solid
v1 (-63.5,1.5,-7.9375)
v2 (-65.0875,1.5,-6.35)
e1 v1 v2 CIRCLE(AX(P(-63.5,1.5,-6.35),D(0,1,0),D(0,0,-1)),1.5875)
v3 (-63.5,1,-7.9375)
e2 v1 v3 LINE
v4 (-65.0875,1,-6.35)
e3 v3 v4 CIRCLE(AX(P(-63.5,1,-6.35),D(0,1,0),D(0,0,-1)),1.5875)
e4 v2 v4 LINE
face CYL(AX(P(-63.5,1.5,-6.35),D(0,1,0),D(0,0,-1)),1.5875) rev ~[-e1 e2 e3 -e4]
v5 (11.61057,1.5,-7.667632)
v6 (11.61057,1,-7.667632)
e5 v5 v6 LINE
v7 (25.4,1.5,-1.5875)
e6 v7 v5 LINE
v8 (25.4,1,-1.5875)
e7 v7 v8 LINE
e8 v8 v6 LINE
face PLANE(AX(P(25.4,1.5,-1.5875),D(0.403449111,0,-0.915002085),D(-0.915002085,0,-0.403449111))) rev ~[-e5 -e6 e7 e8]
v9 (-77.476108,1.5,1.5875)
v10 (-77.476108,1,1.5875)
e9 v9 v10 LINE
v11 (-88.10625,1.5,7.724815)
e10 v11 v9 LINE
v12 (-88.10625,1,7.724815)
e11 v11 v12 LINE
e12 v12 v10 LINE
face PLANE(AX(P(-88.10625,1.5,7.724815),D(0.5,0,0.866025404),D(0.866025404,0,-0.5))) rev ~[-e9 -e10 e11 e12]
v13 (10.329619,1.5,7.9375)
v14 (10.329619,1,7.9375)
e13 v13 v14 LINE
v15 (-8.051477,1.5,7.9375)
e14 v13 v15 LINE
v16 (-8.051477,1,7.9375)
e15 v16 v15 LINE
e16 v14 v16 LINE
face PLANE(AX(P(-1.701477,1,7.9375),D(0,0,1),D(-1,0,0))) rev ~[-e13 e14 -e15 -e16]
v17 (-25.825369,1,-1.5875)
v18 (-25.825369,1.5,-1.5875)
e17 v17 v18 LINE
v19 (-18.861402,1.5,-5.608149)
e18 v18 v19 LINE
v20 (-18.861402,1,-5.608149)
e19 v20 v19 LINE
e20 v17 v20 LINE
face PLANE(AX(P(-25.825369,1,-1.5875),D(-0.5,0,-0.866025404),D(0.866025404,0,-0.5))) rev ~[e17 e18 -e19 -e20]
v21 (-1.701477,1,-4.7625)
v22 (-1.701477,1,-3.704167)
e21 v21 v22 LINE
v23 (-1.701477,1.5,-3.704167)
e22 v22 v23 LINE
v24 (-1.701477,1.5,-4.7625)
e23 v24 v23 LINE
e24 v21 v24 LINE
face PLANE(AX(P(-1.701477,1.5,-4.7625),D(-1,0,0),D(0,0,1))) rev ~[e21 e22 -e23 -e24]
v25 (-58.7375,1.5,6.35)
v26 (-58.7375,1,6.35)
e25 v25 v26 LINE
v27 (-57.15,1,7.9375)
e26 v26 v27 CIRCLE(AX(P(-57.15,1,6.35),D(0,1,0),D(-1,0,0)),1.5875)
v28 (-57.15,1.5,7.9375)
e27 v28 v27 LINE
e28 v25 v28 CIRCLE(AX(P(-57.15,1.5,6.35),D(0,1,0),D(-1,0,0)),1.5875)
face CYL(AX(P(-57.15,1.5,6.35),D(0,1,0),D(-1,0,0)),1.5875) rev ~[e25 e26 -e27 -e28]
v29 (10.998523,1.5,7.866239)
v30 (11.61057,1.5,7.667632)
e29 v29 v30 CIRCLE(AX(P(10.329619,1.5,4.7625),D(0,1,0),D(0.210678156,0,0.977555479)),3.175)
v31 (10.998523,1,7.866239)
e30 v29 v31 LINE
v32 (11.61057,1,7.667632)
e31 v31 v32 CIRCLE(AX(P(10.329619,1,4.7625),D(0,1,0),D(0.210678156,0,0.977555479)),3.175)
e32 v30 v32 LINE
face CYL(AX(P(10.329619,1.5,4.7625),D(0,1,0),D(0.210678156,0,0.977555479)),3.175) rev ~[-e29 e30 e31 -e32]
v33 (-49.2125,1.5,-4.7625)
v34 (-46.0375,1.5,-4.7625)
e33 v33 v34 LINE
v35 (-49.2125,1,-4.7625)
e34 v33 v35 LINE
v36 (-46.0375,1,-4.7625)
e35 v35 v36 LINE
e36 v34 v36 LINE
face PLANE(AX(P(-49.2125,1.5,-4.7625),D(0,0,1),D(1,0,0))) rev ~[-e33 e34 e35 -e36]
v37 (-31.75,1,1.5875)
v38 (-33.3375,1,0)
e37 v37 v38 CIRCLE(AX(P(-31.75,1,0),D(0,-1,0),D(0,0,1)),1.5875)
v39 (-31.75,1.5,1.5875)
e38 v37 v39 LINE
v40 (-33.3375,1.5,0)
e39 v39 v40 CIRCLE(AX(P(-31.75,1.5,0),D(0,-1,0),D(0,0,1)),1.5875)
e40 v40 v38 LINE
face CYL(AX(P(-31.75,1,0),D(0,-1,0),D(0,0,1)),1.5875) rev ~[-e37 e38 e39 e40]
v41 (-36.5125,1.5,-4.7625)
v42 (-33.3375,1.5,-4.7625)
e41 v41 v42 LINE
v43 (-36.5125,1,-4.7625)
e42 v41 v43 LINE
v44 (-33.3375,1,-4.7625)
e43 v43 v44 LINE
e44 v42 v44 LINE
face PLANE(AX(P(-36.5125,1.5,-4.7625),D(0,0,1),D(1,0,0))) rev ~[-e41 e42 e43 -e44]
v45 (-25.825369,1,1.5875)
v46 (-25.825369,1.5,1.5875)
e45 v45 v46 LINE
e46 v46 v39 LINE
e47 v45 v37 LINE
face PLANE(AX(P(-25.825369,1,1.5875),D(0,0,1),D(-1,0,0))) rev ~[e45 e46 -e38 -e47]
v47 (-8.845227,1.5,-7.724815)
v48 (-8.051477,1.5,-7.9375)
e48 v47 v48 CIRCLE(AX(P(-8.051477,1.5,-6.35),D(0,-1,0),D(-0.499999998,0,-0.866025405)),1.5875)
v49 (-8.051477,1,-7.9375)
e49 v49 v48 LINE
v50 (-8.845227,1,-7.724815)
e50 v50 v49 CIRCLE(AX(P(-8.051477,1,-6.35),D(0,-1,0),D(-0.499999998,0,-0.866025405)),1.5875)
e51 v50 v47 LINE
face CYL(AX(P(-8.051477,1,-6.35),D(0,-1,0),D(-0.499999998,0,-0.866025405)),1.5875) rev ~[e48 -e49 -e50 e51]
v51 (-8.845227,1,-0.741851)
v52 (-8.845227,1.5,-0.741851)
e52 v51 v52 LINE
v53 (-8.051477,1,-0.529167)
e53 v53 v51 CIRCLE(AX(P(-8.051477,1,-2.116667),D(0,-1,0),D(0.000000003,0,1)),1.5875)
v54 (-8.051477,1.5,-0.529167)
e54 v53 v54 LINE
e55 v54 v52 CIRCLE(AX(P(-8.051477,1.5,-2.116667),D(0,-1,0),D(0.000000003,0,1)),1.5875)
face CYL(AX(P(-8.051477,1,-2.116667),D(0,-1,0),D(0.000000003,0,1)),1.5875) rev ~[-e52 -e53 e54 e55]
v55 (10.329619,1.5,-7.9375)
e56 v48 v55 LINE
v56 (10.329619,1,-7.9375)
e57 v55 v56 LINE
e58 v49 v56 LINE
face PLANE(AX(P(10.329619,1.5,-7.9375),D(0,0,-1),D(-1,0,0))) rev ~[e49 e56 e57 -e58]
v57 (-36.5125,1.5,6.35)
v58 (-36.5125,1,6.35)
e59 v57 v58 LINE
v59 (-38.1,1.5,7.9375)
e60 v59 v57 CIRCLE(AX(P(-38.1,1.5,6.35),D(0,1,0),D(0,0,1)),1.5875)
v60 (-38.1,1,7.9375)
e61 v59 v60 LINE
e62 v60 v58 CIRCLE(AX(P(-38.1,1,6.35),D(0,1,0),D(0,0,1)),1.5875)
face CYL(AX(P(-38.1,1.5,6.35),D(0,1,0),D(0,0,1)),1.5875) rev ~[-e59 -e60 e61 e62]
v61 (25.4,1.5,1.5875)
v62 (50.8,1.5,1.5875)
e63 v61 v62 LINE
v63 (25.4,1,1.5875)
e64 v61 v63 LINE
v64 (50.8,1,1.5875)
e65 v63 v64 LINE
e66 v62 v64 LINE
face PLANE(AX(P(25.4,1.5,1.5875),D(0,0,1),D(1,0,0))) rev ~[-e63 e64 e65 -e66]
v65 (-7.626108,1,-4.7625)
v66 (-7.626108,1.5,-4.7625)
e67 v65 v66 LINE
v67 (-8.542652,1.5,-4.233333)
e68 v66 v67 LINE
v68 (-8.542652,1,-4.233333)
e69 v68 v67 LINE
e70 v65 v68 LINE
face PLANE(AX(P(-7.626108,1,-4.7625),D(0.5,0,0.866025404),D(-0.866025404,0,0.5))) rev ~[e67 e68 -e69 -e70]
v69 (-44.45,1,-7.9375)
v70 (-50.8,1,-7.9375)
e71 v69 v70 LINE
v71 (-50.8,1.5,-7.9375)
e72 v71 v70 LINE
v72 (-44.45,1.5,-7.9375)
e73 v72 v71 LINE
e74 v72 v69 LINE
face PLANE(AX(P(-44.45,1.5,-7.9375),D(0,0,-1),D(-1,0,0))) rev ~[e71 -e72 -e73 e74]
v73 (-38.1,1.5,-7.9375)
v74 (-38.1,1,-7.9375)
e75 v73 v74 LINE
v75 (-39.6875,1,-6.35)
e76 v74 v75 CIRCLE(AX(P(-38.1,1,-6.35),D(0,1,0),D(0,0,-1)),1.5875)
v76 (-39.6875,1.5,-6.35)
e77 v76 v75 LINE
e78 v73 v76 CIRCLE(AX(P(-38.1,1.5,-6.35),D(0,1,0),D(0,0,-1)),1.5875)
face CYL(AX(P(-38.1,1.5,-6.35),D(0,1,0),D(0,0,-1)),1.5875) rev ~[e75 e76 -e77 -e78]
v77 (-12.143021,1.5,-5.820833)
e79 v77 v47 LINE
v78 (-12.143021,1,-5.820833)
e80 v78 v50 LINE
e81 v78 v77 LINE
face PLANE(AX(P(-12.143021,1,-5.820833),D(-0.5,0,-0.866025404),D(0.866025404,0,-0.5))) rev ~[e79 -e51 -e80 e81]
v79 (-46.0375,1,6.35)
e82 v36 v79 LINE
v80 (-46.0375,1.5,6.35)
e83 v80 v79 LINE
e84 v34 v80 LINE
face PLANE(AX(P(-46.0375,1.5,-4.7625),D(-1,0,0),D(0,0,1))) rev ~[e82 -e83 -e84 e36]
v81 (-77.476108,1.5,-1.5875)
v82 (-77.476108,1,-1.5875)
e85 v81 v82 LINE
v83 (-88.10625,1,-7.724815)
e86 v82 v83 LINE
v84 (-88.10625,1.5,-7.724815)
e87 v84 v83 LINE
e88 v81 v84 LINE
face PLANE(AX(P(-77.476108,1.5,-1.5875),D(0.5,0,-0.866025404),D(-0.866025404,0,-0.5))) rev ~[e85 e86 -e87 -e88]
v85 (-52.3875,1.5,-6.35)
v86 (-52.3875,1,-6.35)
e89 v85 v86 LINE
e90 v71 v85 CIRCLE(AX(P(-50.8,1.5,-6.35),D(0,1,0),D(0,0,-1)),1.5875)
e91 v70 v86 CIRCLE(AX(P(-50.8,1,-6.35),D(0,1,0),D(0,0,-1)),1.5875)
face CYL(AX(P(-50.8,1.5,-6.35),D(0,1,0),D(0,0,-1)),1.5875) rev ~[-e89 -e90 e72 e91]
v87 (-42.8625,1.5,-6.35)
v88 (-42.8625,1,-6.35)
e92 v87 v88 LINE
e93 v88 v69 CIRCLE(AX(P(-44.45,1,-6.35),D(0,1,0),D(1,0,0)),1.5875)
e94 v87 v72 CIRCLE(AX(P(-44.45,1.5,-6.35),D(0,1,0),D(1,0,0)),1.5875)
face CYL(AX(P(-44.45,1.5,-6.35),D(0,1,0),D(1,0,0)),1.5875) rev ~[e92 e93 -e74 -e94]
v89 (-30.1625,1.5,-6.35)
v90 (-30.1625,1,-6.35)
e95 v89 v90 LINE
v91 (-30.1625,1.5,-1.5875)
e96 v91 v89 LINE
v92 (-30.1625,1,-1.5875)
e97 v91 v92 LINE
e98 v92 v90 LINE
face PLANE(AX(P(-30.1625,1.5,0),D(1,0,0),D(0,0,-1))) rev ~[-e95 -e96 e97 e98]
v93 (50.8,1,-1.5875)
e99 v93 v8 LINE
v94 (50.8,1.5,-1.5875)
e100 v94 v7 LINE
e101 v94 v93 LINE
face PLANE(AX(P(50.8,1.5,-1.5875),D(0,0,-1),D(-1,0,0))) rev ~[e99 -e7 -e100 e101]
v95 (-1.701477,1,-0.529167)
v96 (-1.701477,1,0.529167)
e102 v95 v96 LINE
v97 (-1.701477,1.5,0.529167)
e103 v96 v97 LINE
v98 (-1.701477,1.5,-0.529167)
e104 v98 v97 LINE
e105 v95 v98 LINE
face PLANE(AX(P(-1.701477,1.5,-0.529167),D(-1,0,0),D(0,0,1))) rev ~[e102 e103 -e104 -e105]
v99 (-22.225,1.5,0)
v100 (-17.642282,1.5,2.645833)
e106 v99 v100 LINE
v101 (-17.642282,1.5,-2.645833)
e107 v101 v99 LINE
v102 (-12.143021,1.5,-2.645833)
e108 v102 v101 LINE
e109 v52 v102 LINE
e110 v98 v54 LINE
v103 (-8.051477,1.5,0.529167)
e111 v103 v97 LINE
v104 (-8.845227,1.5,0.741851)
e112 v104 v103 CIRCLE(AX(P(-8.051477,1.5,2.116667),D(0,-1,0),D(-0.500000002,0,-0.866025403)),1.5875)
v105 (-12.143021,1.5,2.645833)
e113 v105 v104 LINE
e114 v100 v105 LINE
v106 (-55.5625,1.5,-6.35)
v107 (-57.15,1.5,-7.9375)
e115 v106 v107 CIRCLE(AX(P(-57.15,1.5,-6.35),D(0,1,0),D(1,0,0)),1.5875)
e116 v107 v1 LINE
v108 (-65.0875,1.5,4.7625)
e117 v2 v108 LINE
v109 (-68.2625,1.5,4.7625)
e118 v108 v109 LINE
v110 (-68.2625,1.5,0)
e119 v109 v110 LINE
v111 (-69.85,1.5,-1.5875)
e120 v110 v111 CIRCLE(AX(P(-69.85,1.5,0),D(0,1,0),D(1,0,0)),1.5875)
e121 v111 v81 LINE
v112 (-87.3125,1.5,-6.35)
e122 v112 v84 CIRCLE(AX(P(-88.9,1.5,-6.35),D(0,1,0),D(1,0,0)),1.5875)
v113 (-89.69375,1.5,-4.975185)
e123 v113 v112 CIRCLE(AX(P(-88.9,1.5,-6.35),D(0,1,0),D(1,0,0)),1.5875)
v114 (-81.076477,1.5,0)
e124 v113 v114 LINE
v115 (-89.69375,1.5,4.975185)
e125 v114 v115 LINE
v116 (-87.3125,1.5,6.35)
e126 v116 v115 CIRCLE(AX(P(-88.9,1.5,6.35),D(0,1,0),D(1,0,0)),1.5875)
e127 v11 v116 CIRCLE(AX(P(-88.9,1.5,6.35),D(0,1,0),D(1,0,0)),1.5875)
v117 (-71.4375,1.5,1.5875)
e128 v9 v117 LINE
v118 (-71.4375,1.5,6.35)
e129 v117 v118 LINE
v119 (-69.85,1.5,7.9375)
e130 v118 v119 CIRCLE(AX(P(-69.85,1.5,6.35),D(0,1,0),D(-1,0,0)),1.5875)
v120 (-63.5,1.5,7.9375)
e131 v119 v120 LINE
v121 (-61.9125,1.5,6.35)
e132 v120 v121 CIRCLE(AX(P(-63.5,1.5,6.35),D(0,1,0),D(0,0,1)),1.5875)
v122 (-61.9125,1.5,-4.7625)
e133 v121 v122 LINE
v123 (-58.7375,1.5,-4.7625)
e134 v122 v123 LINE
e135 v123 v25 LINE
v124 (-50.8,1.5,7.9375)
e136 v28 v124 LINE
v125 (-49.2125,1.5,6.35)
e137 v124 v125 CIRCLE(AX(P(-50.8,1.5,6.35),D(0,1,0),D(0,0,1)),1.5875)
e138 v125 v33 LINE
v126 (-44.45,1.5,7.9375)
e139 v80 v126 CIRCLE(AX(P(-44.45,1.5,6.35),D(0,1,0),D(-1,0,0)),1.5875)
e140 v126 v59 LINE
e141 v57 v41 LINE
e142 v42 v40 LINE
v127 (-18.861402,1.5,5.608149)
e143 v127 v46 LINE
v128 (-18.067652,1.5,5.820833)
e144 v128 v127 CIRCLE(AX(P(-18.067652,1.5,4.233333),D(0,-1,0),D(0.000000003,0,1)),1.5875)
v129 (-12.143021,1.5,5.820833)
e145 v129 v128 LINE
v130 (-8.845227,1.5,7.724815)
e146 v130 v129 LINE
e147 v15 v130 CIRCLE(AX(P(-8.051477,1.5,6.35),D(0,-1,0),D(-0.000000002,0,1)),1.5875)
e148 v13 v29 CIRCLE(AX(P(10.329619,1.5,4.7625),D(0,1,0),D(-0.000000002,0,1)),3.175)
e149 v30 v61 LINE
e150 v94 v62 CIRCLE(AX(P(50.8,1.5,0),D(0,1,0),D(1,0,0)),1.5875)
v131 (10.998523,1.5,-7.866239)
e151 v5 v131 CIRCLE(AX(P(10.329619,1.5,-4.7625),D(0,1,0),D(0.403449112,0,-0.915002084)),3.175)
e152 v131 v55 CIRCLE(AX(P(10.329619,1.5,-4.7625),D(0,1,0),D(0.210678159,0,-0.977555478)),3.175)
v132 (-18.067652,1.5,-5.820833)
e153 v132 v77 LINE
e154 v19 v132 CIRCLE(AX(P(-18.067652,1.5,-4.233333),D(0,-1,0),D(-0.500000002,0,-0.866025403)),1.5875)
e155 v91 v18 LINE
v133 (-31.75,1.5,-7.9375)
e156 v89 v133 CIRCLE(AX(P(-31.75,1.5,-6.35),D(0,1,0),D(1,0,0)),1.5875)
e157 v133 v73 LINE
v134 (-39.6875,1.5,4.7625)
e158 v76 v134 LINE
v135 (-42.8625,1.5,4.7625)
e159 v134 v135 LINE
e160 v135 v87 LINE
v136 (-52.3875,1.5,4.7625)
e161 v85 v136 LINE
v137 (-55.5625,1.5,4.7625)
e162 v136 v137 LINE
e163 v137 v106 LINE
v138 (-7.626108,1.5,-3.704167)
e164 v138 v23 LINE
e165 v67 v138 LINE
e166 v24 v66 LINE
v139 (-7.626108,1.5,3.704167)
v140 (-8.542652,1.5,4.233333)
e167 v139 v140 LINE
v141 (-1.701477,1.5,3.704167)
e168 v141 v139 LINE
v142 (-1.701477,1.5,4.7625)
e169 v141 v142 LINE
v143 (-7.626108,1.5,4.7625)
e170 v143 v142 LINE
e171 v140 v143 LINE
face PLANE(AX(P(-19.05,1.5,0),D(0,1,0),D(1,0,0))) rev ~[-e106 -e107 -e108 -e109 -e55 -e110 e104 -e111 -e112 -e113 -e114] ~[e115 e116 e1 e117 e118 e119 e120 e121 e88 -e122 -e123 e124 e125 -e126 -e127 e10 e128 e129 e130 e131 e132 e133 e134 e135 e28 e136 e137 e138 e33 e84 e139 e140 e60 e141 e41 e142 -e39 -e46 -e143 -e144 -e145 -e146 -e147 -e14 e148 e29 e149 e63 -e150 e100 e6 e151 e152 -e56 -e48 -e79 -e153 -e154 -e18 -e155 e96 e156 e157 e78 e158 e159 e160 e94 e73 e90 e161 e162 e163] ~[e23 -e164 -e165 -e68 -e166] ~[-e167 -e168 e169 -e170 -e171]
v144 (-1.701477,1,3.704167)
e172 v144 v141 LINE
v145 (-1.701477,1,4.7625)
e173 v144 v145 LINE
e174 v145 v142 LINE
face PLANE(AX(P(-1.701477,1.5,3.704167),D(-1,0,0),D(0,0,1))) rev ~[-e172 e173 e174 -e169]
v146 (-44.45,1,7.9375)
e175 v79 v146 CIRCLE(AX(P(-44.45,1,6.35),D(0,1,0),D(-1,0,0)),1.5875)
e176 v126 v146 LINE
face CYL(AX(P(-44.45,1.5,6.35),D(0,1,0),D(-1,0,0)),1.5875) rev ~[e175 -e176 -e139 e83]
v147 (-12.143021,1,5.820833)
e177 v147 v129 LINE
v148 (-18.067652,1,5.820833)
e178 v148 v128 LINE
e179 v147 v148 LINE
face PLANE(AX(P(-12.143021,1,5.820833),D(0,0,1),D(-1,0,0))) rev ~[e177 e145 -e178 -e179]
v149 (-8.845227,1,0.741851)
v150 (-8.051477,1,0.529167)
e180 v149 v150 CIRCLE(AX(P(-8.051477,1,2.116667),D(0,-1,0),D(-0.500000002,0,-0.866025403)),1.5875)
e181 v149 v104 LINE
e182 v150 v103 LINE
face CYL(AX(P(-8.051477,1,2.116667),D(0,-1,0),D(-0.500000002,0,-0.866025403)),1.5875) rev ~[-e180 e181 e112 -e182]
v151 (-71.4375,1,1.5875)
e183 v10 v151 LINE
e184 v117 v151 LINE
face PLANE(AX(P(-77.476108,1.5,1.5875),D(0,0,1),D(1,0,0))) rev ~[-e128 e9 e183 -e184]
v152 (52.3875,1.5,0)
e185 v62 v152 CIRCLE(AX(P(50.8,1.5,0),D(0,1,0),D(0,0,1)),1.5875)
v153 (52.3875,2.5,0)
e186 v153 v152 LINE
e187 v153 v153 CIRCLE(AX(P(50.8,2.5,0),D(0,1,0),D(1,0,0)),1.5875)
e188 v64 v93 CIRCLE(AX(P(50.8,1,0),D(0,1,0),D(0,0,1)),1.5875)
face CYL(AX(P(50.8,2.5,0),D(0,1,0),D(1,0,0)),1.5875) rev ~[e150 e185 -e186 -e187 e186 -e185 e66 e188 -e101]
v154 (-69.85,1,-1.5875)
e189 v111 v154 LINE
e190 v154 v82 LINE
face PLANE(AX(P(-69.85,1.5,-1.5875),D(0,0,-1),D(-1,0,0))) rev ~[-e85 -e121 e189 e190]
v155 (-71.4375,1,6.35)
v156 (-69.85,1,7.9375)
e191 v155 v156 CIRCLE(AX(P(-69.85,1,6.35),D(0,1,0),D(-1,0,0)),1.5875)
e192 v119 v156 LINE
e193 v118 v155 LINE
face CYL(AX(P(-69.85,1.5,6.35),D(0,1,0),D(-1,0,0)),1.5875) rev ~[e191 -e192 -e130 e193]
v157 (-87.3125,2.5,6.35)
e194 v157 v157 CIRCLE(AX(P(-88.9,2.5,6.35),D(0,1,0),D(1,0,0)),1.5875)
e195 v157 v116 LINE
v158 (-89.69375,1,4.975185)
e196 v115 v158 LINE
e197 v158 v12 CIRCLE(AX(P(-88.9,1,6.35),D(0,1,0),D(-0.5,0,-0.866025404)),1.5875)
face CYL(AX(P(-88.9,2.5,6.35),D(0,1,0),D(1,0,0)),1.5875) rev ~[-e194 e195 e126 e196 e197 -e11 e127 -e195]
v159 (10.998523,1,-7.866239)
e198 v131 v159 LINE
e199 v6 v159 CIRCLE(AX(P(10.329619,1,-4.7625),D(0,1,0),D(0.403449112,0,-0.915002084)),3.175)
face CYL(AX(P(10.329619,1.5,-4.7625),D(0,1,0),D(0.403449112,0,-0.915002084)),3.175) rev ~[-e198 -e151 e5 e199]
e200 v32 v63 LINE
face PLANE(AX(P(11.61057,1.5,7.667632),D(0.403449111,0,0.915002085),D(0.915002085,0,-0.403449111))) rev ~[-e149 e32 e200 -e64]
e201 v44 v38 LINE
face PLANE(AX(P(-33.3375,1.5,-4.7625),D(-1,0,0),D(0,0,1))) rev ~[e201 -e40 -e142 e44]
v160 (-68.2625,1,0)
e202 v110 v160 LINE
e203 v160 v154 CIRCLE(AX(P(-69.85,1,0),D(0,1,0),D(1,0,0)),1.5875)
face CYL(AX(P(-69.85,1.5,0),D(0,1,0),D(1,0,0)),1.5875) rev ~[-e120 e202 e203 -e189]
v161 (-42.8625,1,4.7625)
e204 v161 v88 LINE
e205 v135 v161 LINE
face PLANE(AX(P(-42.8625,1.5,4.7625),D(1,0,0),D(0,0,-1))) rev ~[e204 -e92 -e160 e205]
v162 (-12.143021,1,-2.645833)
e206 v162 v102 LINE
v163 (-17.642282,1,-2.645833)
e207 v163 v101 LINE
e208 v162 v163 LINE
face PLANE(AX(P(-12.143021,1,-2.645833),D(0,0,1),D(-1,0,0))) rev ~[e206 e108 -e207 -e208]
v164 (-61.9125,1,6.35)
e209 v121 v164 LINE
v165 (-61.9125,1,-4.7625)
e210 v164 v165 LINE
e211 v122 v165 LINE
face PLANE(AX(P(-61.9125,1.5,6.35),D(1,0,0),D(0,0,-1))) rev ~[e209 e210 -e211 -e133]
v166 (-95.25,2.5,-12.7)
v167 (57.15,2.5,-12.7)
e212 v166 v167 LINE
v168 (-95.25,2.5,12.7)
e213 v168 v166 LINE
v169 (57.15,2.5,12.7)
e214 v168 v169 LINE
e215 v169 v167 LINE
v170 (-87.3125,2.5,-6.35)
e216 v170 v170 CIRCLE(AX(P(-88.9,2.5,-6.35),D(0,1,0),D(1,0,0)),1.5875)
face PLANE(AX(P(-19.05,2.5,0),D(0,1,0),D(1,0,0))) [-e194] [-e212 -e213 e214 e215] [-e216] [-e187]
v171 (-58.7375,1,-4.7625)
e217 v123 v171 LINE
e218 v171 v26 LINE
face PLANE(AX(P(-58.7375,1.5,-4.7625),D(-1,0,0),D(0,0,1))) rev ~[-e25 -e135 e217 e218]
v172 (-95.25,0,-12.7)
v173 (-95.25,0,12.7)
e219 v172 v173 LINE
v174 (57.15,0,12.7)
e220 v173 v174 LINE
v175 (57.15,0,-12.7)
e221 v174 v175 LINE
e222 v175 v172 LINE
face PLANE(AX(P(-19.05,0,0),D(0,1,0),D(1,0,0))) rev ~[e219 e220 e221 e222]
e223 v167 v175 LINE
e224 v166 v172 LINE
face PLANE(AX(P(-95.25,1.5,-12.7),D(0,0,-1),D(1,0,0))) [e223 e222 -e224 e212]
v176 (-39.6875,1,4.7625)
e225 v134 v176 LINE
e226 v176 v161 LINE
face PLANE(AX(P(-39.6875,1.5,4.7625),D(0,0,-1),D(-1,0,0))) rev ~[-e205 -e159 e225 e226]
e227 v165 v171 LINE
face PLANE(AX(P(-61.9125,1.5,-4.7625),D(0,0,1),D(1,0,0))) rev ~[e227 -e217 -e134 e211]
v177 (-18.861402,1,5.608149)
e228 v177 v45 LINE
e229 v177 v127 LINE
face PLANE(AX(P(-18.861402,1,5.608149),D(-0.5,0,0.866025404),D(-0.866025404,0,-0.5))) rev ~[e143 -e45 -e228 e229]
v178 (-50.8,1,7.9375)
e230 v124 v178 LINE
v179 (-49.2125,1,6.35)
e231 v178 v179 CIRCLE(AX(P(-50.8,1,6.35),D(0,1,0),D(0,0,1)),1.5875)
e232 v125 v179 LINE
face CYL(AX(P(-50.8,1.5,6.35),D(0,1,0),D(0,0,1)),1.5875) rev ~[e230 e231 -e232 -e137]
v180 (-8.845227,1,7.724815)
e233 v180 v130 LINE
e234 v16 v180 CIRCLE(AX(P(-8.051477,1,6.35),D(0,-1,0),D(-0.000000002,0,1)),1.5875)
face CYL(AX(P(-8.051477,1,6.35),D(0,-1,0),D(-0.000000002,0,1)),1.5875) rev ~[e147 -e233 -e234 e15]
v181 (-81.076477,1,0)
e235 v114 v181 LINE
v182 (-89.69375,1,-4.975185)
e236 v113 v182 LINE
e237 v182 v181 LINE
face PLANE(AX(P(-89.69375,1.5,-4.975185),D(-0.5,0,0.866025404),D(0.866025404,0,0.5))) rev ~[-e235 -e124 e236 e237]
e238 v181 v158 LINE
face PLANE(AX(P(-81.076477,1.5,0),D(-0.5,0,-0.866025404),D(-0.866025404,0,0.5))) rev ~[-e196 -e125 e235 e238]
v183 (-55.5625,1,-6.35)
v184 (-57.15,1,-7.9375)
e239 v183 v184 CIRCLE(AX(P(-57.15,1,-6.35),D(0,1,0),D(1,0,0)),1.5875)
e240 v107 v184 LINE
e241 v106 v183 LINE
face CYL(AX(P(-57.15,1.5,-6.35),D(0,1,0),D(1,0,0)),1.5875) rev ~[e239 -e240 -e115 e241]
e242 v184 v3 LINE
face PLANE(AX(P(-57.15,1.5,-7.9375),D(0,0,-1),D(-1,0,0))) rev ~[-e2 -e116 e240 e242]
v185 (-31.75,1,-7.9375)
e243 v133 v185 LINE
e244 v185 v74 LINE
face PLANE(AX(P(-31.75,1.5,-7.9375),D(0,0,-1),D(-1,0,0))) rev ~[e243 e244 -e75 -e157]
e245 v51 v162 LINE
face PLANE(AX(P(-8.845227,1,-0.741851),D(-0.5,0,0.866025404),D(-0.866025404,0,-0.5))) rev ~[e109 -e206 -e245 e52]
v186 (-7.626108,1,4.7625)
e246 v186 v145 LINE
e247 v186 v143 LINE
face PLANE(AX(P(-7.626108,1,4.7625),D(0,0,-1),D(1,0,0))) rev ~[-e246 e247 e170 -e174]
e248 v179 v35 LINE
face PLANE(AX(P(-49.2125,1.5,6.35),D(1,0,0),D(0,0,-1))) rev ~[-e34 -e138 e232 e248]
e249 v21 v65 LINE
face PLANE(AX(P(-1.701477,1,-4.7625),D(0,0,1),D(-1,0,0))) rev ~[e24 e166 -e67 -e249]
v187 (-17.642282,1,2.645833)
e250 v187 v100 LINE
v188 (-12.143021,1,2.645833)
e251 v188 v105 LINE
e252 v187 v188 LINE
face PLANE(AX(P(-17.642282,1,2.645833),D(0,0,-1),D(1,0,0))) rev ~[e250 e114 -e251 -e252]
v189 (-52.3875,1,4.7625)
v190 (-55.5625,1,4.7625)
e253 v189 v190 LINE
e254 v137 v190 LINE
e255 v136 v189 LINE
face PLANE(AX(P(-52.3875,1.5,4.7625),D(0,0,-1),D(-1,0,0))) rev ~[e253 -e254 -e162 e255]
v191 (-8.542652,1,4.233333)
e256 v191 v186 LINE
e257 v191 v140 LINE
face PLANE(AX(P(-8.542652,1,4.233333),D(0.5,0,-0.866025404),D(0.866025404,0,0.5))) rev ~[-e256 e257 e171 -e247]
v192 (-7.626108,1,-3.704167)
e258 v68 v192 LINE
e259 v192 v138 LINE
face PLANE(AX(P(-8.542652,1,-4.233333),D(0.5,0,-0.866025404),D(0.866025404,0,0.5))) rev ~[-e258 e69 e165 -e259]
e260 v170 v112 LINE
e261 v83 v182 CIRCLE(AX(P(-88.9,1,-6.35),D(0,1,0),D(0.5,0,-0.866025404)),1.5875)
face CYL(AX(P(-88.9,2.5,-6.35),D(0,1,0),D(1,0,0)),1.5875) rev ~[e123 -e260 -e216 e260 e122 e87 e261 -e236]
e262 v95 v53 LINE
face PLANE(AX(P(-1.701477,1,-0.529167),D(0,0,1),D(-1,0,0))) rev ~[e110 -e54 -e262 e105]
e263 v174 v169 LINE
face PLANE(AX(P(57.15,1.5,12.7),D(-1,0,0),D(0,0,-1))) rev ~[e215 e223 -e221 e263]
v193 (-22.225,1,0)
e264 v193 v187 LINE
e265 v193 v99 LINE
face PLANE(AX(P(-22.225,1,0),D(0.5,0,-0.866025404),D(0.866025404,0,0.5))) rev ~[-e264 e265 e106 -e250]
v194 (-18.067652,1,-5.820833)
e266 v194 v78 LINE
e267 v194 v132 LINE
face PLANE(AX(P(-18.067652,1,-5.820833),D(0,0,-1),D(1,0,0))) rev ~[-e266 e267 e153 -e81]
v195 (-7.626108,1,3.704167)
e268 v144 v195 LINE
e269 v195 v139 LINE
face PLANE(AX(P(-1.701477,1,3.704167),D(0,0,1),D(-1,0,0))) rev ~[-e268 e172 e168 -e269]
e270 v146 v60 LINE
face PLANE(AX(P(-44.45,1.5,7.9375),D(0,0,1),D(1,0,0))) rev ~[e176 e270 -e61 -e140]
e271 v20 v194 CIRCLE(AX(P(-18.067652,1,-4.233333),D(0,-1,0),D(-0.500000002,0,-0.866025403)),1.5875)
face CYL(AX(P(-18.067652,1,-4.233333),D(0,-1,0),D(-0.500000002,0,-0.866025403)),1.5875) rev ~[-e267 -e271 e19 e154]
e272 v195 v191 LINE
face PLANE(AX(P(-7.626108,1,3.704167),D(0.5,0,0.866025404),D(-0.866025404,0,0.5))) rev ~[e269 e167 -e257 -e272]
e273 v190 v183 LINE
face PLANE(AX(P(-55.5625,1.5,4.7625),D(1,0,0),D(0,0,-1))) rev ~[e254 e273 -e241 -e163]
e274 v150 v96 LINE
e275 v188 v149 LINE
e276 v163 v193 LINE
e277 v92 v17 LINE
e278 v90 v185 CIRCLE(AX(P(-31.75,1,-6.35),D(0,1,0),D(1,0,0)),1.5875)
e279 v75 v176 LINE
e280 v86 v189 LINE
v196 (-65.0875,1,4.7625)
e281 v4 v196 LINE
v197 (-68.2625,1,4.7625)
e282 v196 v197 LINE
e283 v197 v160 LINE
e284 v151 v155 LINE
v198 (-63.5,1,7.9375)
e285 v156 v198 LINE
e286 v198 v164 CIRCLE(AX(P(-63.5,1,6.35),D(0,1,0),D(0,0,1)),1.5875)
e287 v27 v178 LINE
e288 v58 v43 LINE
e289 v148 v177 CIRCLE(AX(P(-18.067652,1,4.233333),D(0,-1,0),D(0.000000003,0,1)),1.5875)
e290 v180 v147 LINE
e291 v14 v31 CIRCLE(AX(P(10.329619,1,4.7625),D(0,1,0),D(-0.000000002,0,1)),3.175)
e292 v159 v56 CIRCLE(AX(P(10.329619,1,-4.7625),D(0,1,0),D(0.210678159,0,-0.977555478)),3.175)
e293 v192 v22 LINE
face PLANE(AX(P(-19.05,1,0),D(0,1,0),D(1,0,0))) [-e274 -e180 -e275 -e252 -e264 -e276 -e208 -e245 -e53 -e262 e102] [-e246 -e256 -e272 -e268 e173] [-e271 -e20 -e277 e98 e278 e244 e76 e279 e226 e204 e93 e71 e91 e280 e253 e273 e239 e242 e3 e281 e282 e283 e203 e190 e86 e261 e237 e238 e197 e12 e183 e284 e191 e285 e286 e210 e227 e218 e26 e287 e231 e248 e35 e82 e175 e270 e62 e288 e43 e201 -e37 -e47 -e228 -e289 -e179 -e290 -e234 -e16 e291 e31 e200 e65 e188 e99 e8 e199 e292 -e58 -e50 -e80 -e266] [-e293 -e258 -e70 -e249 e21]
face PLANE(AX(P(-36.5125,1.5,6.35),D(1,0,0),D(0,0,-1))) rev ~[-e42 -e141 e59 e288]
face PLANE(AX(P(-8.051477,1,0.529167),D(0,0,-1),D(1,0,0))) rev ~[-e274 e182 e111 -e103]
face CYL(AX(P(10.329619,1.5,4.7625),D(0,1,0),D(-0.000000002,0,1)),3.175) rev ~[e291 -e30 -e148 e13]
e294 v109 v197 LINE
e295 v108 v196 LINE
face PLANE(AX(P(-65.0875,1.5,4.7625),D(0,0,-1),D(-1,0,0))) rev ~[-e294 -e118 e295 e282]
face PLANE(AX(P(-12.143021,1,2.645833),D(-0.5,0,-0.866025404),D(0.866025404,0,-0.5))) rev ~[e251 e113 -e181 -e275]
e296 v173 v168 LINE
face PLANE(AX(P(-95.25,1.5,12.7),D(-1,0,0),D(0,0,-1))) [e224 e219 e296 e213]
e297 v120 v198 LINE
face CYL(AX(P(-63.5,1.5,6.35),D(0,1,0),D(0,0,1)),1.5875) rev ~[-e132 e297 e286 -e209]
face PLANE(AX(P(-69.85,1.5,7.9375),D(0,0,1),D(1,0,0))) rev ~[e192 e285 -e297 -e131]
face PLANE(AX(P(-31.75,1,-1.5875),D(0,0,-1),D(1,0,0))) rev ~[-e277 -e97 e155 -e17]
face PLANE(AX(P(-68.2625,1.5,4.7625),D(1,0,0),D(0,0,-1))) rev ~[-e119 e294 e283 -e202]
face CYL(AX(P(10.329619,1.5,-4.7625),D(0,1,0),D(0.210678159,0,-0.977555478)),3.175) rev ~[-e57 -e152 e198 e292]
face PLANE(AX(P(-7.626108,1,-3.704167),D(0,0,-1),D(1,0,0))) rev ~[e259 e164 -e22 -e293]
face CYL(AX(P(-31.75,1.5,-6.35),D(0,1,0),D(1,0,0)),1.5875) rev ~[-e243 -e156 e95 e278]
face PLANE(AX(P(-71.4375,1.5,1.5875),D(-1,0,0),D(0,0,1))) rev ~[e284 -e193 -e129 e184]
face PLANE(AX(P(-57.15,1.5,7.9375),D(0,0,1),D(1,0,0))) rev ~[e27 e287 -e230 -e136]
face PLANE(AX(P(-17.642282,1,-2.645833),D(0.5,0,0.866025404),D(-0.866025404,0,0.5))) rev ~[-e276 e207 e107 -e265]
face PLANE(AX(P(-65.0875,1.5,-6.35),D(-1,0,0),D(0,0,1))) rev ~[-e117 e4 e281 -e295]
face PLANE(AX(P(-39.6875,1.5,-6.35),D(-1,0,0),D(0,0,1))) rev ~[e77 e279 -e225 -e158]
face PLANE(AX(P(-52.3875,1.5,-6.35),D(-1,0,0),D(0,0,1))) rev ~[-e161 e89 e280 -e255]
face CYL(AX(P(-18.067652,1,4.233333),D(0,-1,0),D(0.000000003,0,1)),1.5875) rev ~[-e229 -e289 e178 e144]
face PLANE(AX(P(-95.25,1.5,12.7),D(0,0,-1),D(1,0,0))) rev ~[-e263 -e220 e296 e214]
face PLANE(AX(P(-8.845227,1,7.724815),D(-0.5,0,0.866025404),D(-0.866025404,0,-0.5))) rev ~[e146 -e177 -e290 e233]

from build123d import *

# Parameters (mm, degrees)
BOSS_EXTRUDE1_DEPTH = 1
SKETCH5_W           = 152.4
SKETCH5_H           = 25.4
BOSS_EXTRUDE3_DEPTH = 0.5
CUT_EXTRUDE1_DEPTH  = 0.5
SKETCH7_W           = 1.5875
SKETCH7_H           = 1.5875
SKETCH7_W_2         = 3.175
CUT_EXTRUDE2_DEPTH  = 0.5
SKETCH8_W           = 152.4
SKETCH8_H           = 25.4
BOSS_EXTRUDE4_DEPTH = 1
CUT_EXTRUDE8_REACH  = 4.5
SKETCH9_R           = 1.5875


with BuildPart() as part:
    # Sketch1 → Boss-Extrude1 (new body)
    with BuildSketch(Plane(origin=(0, 0, 0), x_dir=(1, 0, 0), z_dir=(0, 1, 0))):
        Polygon((-44.45, -12.7), (31.75, -12.7), (57.15, -12.7), (57.15, 12.7), (31.75, 12.7), (-44.45, 12.7), (-69.85, 12.7), (-95.25, 12.7), (-95.25, -12.7), (-69.85, -12.7), align=None)
    extrude(amount=BOSS_EXTRUDE1_DEPTH)

    # Sketch5 → Boss-Extrude3 (add)
    with BuildSketch(Plane(origin=(0, 1, 0), x_dir=(1, 0, 0), z_dir=(0, 1, 0))):
        with Locations((-19.05, 0)):
            Rectangle(SKETCH5_W, SKETCH5_H)
        with BuildLine():
            ThreePointArc((-31.75, -1.5875), (-33.3375, 0), (-31.75, 1.5875))
            Line((-31.75, 1.5875), (-25.825369343, 1.5875))
            Line((-25.825369343, 1.5875), (-18.861401581, 5.608148662))
            ThreePointArc((-18.861401581, 5.608148662), (-18.478526815, 5.766740583), (-18.067651581, 5.820833333))
            Line((-18.067651581, 5.820833333), (-12.143020924, 5.820833333))
            Line((-12.143020924, 5.820833333), (-8.845227372, 7.724815329))
            ThreePointArc((-8.845227372, 7.724815329), (-8.462352606, 7.883407249), (-8.051477372, 7.9375))
            Line((-8.051477372, 7.9375), (-1.701477372, 7.9375))
            ThreePointArc((-1.701477372, 7.9375), (-0.113977372, 6.35), (-1.701477372, 4.7625))
            Line((-1.701477372, 4.7625), (-7.626108029, 4.7625))
            Line((-7.626108029, 4.7625), (-8.542651581, 4.233333333))
            Line((-8.542651581, 4.233333333), (-7.626108029, 3.704166667))
            Line((-7.626108029, 3.704166667), (-1.701477372, 3.704166667))
            ThreePointArc((-1.701477372, 3.704166667), (-0.113977372, 2.116666667), (-1.701477372, 0.529166667))
            Line((-1.701477372, 0.529166667), (-8.051477372, 0.529166667))
            ThreePointArc((-8.051477372, 0.529166667), (-8.462352606, 0.583259417), (-8.845227372, 0.741851338))
            Line((-8.845227372, 0.741851338), (-12.143020924, 2.645833333))
            Line((-12.143020924, 2.645833333), (-17.642282238, 2.645833333))
            Line((-17.642282238, 2.645833333), (-22.225, 0))
            Line((-22.225, 0), (-17.642282238, -2.645833333))
            Line((-17.642282238, -2.645833333), (-12.143020924, -2.645833333))
            Line((-12.143020924, -2.645833333), (-8.845227372, -0.741851338))
            ThreePointArc((-8.845227372, -0.741851338), (-8.462352606, -0.583259417), (-8.051477372, -0.529166667))
            Line((-8.051477372, -0.529166667), (-1.701477372, -0.529166667))
            ThreePointArc((-1.701477372, -0.529166667), (-0.113977372, -2.116666667), (-1.701477372, -3.704166667))
            Line((-1.701477372, -3.704166667), (-7.626108029, -3.704166667))
            Line((-7.626108029, -3.704166667), (-8.542651581, -4.233333333))
            Line((-8.542651581, -4.233333333), (-7.626108029, -4.7625))
            Line((-7.626108029, -4.7625), (-1.701477372, -4.7625))
            ThreePointArc((-1.701477372, -4.7625), (-0.113977372, -6.35), (-1.701477372, -7.9375))
            Line((-1.701477372, -7.9375), (-8.051477372, -7.9375))
            ThreePointArc((-8.051477372, -7.9375), (-8.462352606, -7.883407249), (-8.845227372, -7.724815329))
            Line((-8.845227372, -7.724815329), (-12.143020924, -5.820833333))
            Line((-12.143020924, -5.820833333), (-18.067651581, -5.820833333))
            ThreePointArc((-18.067651581, -5.820833333), (-18.478526815, -5.766740583), (-18.861401581, -5.608148662))
            Line((-18.861401581, -5.608148662), (-25.825369343, -1.5875))
            Line((-25.825369343, -1.5875), (-31.75, -1.5875))
        make_face(mode=Mode.SUBTRACT)
    extrude(amount=BOSS_EXTRUDE3_DEPTH)

    # Sketch6 → Cut-Extrude1 (cut)
    with BuildSketch(Plane(origin=(0, 1.5, 0), x_dir=(1, 0, 0), z_dir=(0, 1, 0))):
        with BuildLine():
            Line((-1.701477372, -7.9375), (10.329619478, -7.9375))
            ThreePointArc((10.329619478, -7.9375), (10.665963649, -7.919634397), (10.998522628, -7.866238645))
            Line((10.998522628, -7.866238645), (10.998522628, 7.866238645))
            ThreePointArc((10.998522628, 7.866238645), (10.665963649, 7.919634397), (10.329619478, 7.9375))
            Line((10.329619478, 7.9375), (-1.701477372, 7.9375))
            ThreePointArc((-1.701477372, 7.9375), (-0.113977372, 6.35), (-1.701477372, 4.7625))
            Line((-1.701477372, 4.7625), (-1.701477372, 3.704166667))
            ThreePointArc((-1.701477372, 3.704166667), (-0.113977372, 2.116666667), (-1.701477372, 0.529166667))
            Line((-1.701477372, 0.529166667), (-1.701477372, -0.529166667))
            ThreePointArc((-1.701477372, -0.529166667), (-0.113977372, -2.116666667), (-1.701477372, -3.704166667))
            Line((-1.701477372, -3.704166667), (-1.701477372, -4.7625))
            ThreePointArc((-1.701477372, -4.7625), (-0.113977372, -6.35), (-1.701477372, -7.9375))
        make_face()
        with BuildLine():
            Line((10.998522628, 7.866238645), (10.998522628, -7.866238645))
            ThreePointArc((10.998522628, -7.866238645), (11.309590864, -7.782480312), (11.610570405, -7.667631619))
            Line((11.610570405, -7.667631619), (25.4, -1.5875))
            ThreePointArc((25.4, -1.5875), (23.8125, 0), (25.4, 1.5875))
            Line((25.4, 1.5875), (11.610570405, 7.667631619))
            ThreePointArc((11.610570405, 7.667631619), (11.309590864, 7.782480312), (10.998522628, 7.866238645))
        make_face()
        with BuildLine():
            ThreePointArc((25.4, 1.5875), (23.8125, 0), (25.4, -1.5875))
            Line((25.4, -1.5875), (25.4, 1.5875))
        make_face()
        with BuildLine():
            Line((25.4, 1.5875), (25.4, -1.5875))
            ThreePointArc((25.4, -1.5875), (26.522532015, -1.122532015), (26.9875, 0))
            ThreePointArc((26.9875, 0), (26.522532015, 1.122532015), (25.4, 1.5875))
        make_face()
        with BuildLine():
            ThreePointArc((26.9875, 0), (26.522532015, -1.122532015), (25.4, -1.5875))
            Line((25.4, -1.5875), (50.8, -1.5875))
            ThreePointArc((50.8, -1.5875), (52.3875, 0), (50.8, 1.5875))
            Line((50.8, 1.5875), (25.4, 1.5875))
            ThreePointArc((25.4, 1.5875), (26.522532015, 1.122532015), (26.9875, 0))
        make_face()
    extrude(amount=-CUT_EXTRUDE1_DEPTH, mode=Mode.SUBTRACT)

    # Sketch7 → Cut-Extrude2 (cut)
    with BuildSketch(Plane(origin=(0, 1.5, 0), x_dir=(1, 0, 0), z_dir=(0, 1, 0))):
        with Locations((-32.54375, 5.55625)):
            Rectangle(SKETCH7_W, SKETCH7_H)
        with BuildLine():
            ThreePointArc((-30.1625, 6.35), (-30.627467985, 5.227467985), (-31.75, 4.7625))
            Line((-31.75, 4.7625), (-33.3375, 4.7625))
            Line((-33.3375, 4.7625), (-33.3375, 0))
            ThreePointArc((-33.3375, 0), (-31.75, -1.5875), (-30.1625, 0))
            Line((-30.1625, 0), (-30.1625, 6.35))
        make_face()
        with BuildLine():
            Line((-31.75, 6.35), (-31.75, 4.7625))
            ThreePointArc((-31.75, 4.7625), (-30.627467985, 5.227467985), (-30.1625, 6.35))
            ThreePointArc((-30.1625, 6.35), (-30.627467985, 7.472532015), (-31.75, 7.9375))
            ThreePointArc((-31.75, 7.9375), (-32.872532015, 7.472532015), (-33.3375, 6.35))
            Line((-33.3375, 6.35), (-31.75, 6.35))
        make_face()
        with Locations((-34.925, 5.55625)):
            Rectangle(SKETCH7_W_2, SKETCH7_H)
        with BuildLine():
            Line((-36.5125, 6.35), (-33.3375, 6.35))
            ThreePointArc((-33.3375, 6.35), (-32.872532015, 7.472532015), (-31.75, 7.9375))
            Line((-31.75, 7.9375), (-38.1, 7.9375))
            ThreePointArc((-38.1, 7.9375), (-36.977467985, 7.472532015), (-36.5125, 6.35))
        make_face()
        with Locations((-37.30625, 5.55625)):
            Rectangle(SKETCH7_W, SKETCH7_H)
        with BuildLine():
            Line((-36.5125, -6.35), (-36.5125, 4.7625))
            Line((-36.5125, 4.7625), (-38.1, 4.7625))
            Line((-38.1, 4.7625), (-38.1, -4.7625))
            ThreePointArc((-38.1, -4.7625), (-36.977467985, -5.227467985), (-36.5125, -6.35))
        make_face()
        with BuildLine():
            Line((-38.1, 6.35), (-36.5125, 6.35))
            ThreePointArc((-36.5125, 6.35), (-36.977467985, 7.472532015), (-38.1, 7.9375))
            ThreePointArc((-38.1, 7.9375), (-39.222532015, 7.472532015), (-39.6875, 6.35))
            ThreePointArc((-39.6875, 6.35), (-39.222532015, 5.227467985), (-38.1, 4.7625))
            Line((-38.1, 4.7625), (-38.1, 6.35))
        make_face()
        with BuildLine():
            ThreePointArc((-38.1, -7.9375), (-36.977467985, -7.472532015), (-36.5125, -6.35))
            ThreePointArc((-36.5125, -6.35), (-36.977467985, -5.227467985), (-38.1, -4.7625))
            Line((-38.1, -4.7625), (-38.1, -6.35))
            Line((-38.1, -6.35), (-39.6875, -6.35))
            ThreePointArc((-39.6875, -6.35), (-39.222532015, -7.472532015), (-38.1, -7.9375))
        make_face()
        with BuildLine():
            Line((-38.1, -4.7625), (-38.1, 4.7625))
            ThreePointArc((-38.1, 4.7625), (-39.222532015, 5.227467985), (-39.6875, 6.35))
            Line((-39.6875, 6.35), (-39.6875, -4.7625))
            Line((-39.6875, -4.7625), (-38.1, -4.7625))
        make_face()
        with BuildLine():
            Line((-44.45, -7.9375), (-38.1, -7.9375))
            ThreePointArc((-38.1, -7.9375), (-39.222532015, -7.472532015), (-39.6875, -6.35))
            Line((-39.6875, -6.35), (-42.8625, -6.35))
            ThreePointArc((-42.8625, -6.35), (-43.327467985, -7.472532015), (-44.45, -7.9375))
        make_face()
        with Locations((-38.89375, -5.55625)):
            Rectangle(SKETCH7_W, SKETCH7_H)
        with BuildLine():
            ThreePointArc((-46.0375, -6.35), (-45.572532015, -7.472532015), (-44.45, -7.9375))
            ThreePointArc((-44.45, -7.9375), (-43.327467985, -7.472532015), (-42.8625, -6.35))
            Line((-42.8625, -6.35), (-44.45, -6.35))
            Line((-44.45, -6.35), (-44.45, -4.7625))
            ThreePointArc((-44.45, -4.7625), (-45.572532015, -5.227467985), (-46.0375, -6.35))
        make_face()
        with Locations((-41.275, -5.55625)):
            Rectangle(SKETCH7_W_2, SKETCH7_H)
        with BuildLine():
            Line((-46.0375, 0), (-46.0375, -6.35))
            ThreePointArc((-46.0375, -6.35), (-45.572532015, -5.227467985), (-44.45, -4.7625))
            Line((-44.45, -4.7625), (-44.45, -1.5875))
            ThreePointArc((-44.45, -1.5875), (-45.572532015, -1.122532015), (-46.0375, 0))
        make_face()
        with Locations((-43.65625, -5.55625)):
            Rectangle(SKETCH7_W, SKETCH7_H)
        with BuildLine():
            Line((-44.45, -4.7625), (-42.8625, -4.7625))
            Line((-42.8625, -4.7625), (-42.8625, 0))
            ThreePointArc((-42.8625, 0), (-43.327467985, -1.122532015), (-44.45, -1.5875))
            Line((-44.45, -1.5875), (-44.45, -4.7625))
        make_face()
        with BuildLine():
            Line((-46.0375, 4.7625), (-46.0375, 0))
            ThreePointArc((-46.0375, 0), (-44.45, 1.5875), (-42.8625, 0))
            Line((-42.8625, 0), (-42.8625, 6.35))
            ThreePointArc((-42.8625, 6.35), (-43.327467985, 5.227467985), (-44.45, 4.7625))
            Line((-44.45, 4.7625), (-46.0375, 4.7625))
        make_face()
        with BuildLine():
            ThreePointArc((-42.8625, 0), (-44.45, 1.5875), (-46.0375, 0))
            ThreePointArc((-46.0375, 0), (-45.572532015, -1.122532015), (-44.45, -1.5875))
            ThreePointArc((-44.45, -1.5875), (-43.327467985, -1.122532015), (-42.8625, 0))
        make_face()
        with BuildLine():
            Line((-46.0375, 6.35), (-46.0375, 4.7625))
            Line((-46.0375, 4.7625), (-44.45, 4.7625))
            ThreePointArc((-44.45, 4.7625), (-43.327467985, 5.227467985), (-42.8625, 6.35))
            ThreePointArc((-42.8625, 6.35), (-43.327467985, 7.472532015), (-44.45, 7.9375))
            ThreePointArc((-44.45, 7.9375), (-45.572532015, 7.472532015), (-46.0375, 6.35))
        make_face()
        with BuildLine():
            Line((-49.2125, 4.7625), (-46.0375, 4.7625))
            Line((-46.0375, 4.7625), (-46.0375, 6.35))
            ThreePointArc((-46.0375, 6.35), (-45.572532015, 7.472532015), (-44.45, 7.9375))
            Line((-44.45, 7.9375), (-50.8, 7.9375))
            ThreePointArc((-50.8, 7.9375), (-49.677467985, 7.472532015), (-49.2125, 6.35))
            Line((-49.2125, 6.35), (-49.2125, 4.7625))
        make_face()
        with BuildLine():
            Line((-50.8, 4.7625), (-49.2125, 4.7625))
            Line((-49.2125, 4.7625), (-49.2125, 6.35))
            ThreePointArc((-49.2125, 6.35), (-49.677467985, 7.472532015), (-50.8, 7.9375))
            ThreePointArc((-50.8, 7.9375), (-51.922532015, 7.472532015), (-52.3875, 6.35))
            ThreePointArc((-52.3875, 6.35), (-51.922532015, 5.227467985), (-50.8, 4.7625))
        make_face()
        with BuildLine():
            Line((-49.2125, -6.35), (-49.2125, 4.7625))
            Line((-49.2125, 4.7625), (-50.8, 4.7625))
            ThreePointArc((-50.8, 4.7625), (-51.922532015, 5.227467985), (-52.3875, 6.35))
            Line((-52.3875, 6.35), (-52.3875, -4.7625))
            Line((-52.3875, -4.7625), (-50.8, -4.7625))
            ThreePointArc((-50.8, -4.7625), (-49.677467985, -5.227467985), (-49.2125, -6.35))
        make_face()
        with BuildLine():
            ThreePointArc((-50.8, -7.9375), (-49.677467985, -7.472532015), (-49.2125, -6.35))
            ThreePointArc((-49.2125, -6.35), (-49.677467985, -5.227467985), (-50.8, -4.7625))
            Line((-50.8, -4.7625), (-52.3875, -4.7625))
            Line((-52.3875, -4.7625), (-52.3875, -6.35))
            ThreePointArc((-52.3875, -6.35), (-51.922532015, -7.472532015), (-50.8, -7.9375))
        make_face()
        with BuildLine():
            Line((-57.15, -7.9375), (-50.8, -7.9375))
            ThreePointArc((-50.8, -7.9375), (-51.922532015, -7.472532015), (-52.3875, -6.35))
            Line((-52.3875, -6.35), (-52.3875, -4.7625))
            Line((-52.3875, -4.7625), (-55.5625, -4.7625))
            Line((-55.5625, -4.7625), (-55.5625, -6.35))
            ThreePointArc((-55.5625, -6.35), (-56.027467985, -7.472532015), (-57.15, -7.9375))
        make_face()
        with BuildLine():
            ThreePointArc((-58.7375, -6.35), (-58.272532015, -7.472532015), (-57.15, -7.9375))
            ThreePointArc((-57.15, -7.9375), (-56.027467985, -7.472532015), (-55.5625, -6.35))
            Line((-55.5625, -6.35), (-55.5625, -4.7625))
            Line((-55.5625, -4.7625), (-57.15, -4.7625))
            ThreePointArc((-57.15, -4.7625), (-58.272532015, -5.227467985), (-58.7375, -6.35))
        make_face()
        with BuildLine():
            Line((-58.7375, 0), (-58.7375, -6.35))
            ThreePointArc((-58.7375, -6.35), (-58.272532015, -5.227467985), (-57.15, -4.7625))
            Line((-57.15, -4.7625), (-55.5625, -4.7625))
            Line((-55.5625, -4.7625), (-55.5625, 0))
            ThreePointArc((-55.5625, 0), (-57.15, -1.5875), (-58.7375, 0))
        make_face()
        with BuildLine():
            Line((-58.7375, 4.7625), (-58.7375, 0))
            ThreePointArc((-58.7375, 0), (-57.15, 1.5875), (-55.5625, 0))
            Line((-55.5625, 0), (-55.5625, 6.35))
            ThreePointArc((-55.5625, 6.35), (-56.027467985, 5.227467985), (-57.15, 4.7625))
            Line((-57.15, 4.7625), (-58.7375, 4.7625))
        make_face()
        with BuildLine():
            ThreePointArc((-55.5625, 0), (-57.15, 1.5875), (-58.7375, 0))
            ThreePointArc((-58.7375, 0), (-57.15, -1.5875), (-55.5625, 0))
        make_face()
        with BuildLine():
            Line((-58.7375, 6.35), (-58.7375, 4.7625))
            Line((-58.7375, 4.7625), (-57.15, 4.7625))
            ThreePointArc((-57.15, 4.7625), (-56.027467985, 5.227467985), (-55.5625, 6.35))
            ThreePointArc((-55.5625, 6.35), (-56.027467985, 7.472532015), (-57.15, 7.9375))
            ThreePointArc((-57.15, 7.9375), (-58.272532015, 7.472532015), (-58.7375, 6.35))
        make_face()
        with BuildLine():
            Line((-61.9125, 4.7625), (-58.7375, 4.7625))
            Line((-58.7375, 4.7625), (-58.7375, 6.35))
            ThreePointArc((-58.7375, 6.35), (-58.272532015, 7.472532015), (-57.15, 7.9375))
            Line((-57.15, 7.9375), (-63.5, 7.9375))
            ThreePointArc((-63.5, 7.9375), (-62.377467985, 7.472532015), (-61.9125, 6.35))
            Line((-61.9125, 6.35), (-61.9125, 4.7625))
        make_face()
        with BuildLine():
            Line((-63.5, 4.7625), (-61.9125, 4.7625))
            Line((-61.9125, 4.7625), (-61.9125, 6.35))
            ThreePointArc((-61.9125, 6.35), (-62.377467985, 7.472532015), (-63.5, 7.9375))
            ThreePointArc((-63.5, 7.9375), (-64.622532015, 7.472532015), (-65.0875, 6.35))
            ThreePointArc((-65.0875, 6.35), (-64.622532015, 5.227467985), (-63.5, 4.7625))
        make_face()
        with BuildLine():
            Line((-61.9125, -6.35), (-61.9125, 4.7625))
            Line((-61.9125, 4.7625), (-63.5, 4.7625))
            ThreePointArc((-63.5, 4.7625), (-64.622532015, 5.227467985), (-65.0875, 6.35))
            Line((-65.0875, 6.35), (-65.0875, -4.7625))
            Line((-65.0875, -4.7625), (-63.5, -4.7625))
            ThreePointArc((-63.5, -4.7625), (-62.377467985, -5.227467985), (-61.9125, -6.35))
        make_face()
        with BuildLine():
            ThreePointArc((-63.5, -7.9375), (-62.377467985, -7.472532015), (-61.9125, -6.35))
            ThreePointArc((-61.9125, -6.35), (-62.377467985, -5.227467985), (-63.5, -4.7625))
            Line((-63.5, -4.7625), (-65.0875, -4.7625))
            Line((-65.0875, -4.7625), (-65.0875, -6.35))
            ThreePointArc((-65.0875, -6.35), (-64.622532015, -7.472532015), (-63.5, -7.9375))
        make_face()
        with BuildLine():
            Line((-69.85, -7.9375), (-63.5, -7.9375))
            ThreePointArc((-63.5, -7.9375), (-64.622532015, -7.472532015), (-65.0875, -6.35))
            Line((-65.0875, -6.35), (-65.0875, -4.7625))
            Line((-65.0875, -4.7625), (-68.2625, -4.7625))
            Line((-68.2625, -4.7625), (-68.2625, -6.35))
            ThreePointArc((-68.2625, -6.35), (-68.727467985, -7.472532015), (-69.85, -7.9375))
        make_face()
        with BuildLine():
            ThreePointArc((-71.4375, -6.35), (-70.972532015, -7.472532015), (-69.85, -7.9375))
            ThreePointArc((-69.85, -7.9375), (-68.727467985, -7.472532015), (-68.2625, -6.35))
            Line((-68.2625, -6.35), (-68.2625, -4.7625))
            Line((-68.2625, -4.7625), (-69.85, -4.7625))
            ThreePointArc((-69.85, -4.7625), (-70.972532015, -5.227467985), (-71.4375, -6.35))
        make_face()
        with BuildLine():
            Line((-71.4375, -1.5875), (-71.4375, -6.35))
            ThreePointArc((-71.4375, -6.35), (-70.972532015, -5.227467985), (-69.85, -4.7625))
            Line((-69.85, -4.7625), (-68.2625, -4.7625))
            Line((-68.2625, -4.7625), (-68.2625, 0))
            ThreePointArc((-68.2625, 0), (-68.727467985, -1.122532015), (-69.85, -1.5875))
            Line((-69.85, -1.5875), (-71.4375, -1.5875))
        make_face()
        with BuildLine():
            Line((-77.476108029, -1.5875), (-71.4375, -1.5875))
            Line((-71.4375, -1.5875), (-71.4375, 0))
            ThreePointArc((-71.4375, 0), (-70.972532015, 1.122532015), (-69.85, 1.5875))
            Line((-69.85, 1.5875), (-77.476108029, 1.5875))
            Line((-77.476108029, 1.5875), (-77.107727372, 1.374815329))
            ThreePointArc((-77.107727372, 1.374815329), (-76.313977372, 0), (-77.107727372, -1.374815329))
            Line((-77.107727372, -1.374815329), (-77.476108029, -1.5875))
        make_face()
        with BuildLine():
            Line((-71.4375, 0), (-71.4375, -1.5875))
            Line((-71.4375, -1.5875), (-69.85, -1.5875))
            ThreePointArc((-69.85, -1.5875), (-68.727467985, -1.122532015), (-68.2625, 0))
            ThreePointArc((-68.2625, 0), (-68.727467985, 1.122532015), (-69.85, 1.5875))
            ThreePointArc((-69.85, 1.5875), (-70.972532015, 1.122532015), (-71.4375, 0))
        make_face()
        with BuildLine():
            Line((-88.10625, -7.724815329), (-77.476108029, -1.5875))
            Line((-77.476108029, -1.5875), (-77.901477372, -1.5875))
            ThreePointArc((-77.901477372, -1.5875), (-78.312352606, -1.533407249), (-78.695227372, -1.374815329))
            Line((-78.695227372, -1.374815329), (-81.076477372, 0))
            Line((-81.076477372, 0), (-89.69375, -4.975184671))
            ThreePointArc((-89.69375, -4.975184671), (-90.274815329, -7.14375), (-88.10625, -7.724815329))
        make_face()
        with BuildLine():
            Line((-77.901477372, -1.5875), (-77.476108029, -1.5875))
            Line((-77.476108029, -1.5875), (-77.107727372, -1.374815329))
            ThreePointArc((-77.107727372, -1.374815329), (-77.490602138, -1.533407249), (-77.901477372, -1.5875))
        make_face()
        with BuildLine():
            ThreePointArc((-78.695227372, -1.374815329), (-78.312352606, -1.533407249), (-77.901477372, -1.5875))
            ThreePointArc((-77.901477372, -1.5875), (-77.490602138, -1.533407249), (-77.107727372, -1.374815329))
            ThreePointArc((-77.107727372, -1.374815329), (-76.313977372, 0), (-77.107727372, 1.374815329))
            ThreePointArc((-77.107727372, 1.374815329), (-77.490602138, 1.533407249), (-77.901477372, 1.5875))
            ThreePointArc((-77.901477372, 1.5875), (-78.312352606, 1.533407249), (-78.695227372, 1.374815329))
            ThreePointArc((-78.695227372, 1.374815329), (-79.488977372, 0), (-78.695227372, -1.374815329))
        make_face()
        with BuildLine():
            Line((-77.107727372, 1.374815329), (-77.476108029, 1.5875))
            Line((-77.476108029, 1.5875), (-77.901477372, 1.5875))
            ThreePointArc((-77.901477372, 1.5875), (-77.490602138, 1.533407249), (-77.107727372, 1.374815329))
        make_face()
        with BuildLine():
            Line((-77.901477372, 1.5875), (-77.476108029, 1.5875))
            Line((-77.476108029, 1.5875), (-88.10625, 7.724815329))
            ThreePointArc((-88.10625, 7.724815329), (-90.274815329, 7.14375), (-89.69375, 4.975184671))
            Line((-89.69375, 4.975184671), (-81.076477372, 0))
            Line((-81.076477372, 0), (-78.695227372, 1.374815329))
            ThreePointArc((-78.695227372, 1.374815329), (-78.312352606, 1.533407249), (-77.901477372, 1.5875))
        make_face()
        with BuildLine():
            Line((-81.076477372, 0), (-78.695227372, -1.374815329))
            ThreePointArc((-78.695227372, -1.374815329), (-79.488977372, 0), (-78.695227372, 1.374815329))
            Line((-78.695227372, 1.374815329), (-81.076477372, 0))
        make_face()
    extrude(amount=-CUT_EXTRUDE2_DEPTH, mode=Mode.SUBTRACT)

    # Sketch8 → Boss-Extrude4 (add)
    with BuildSketch(Plane(origin=(0, 1.5, 0), x_dir=(1, 0, 0), z_dir=(0, 1, 0))):
        with Locations((-19.05, 0)):
            Rectangle(SKETCH8_W, SKETCH8_H)
    extrude(amount=BOSS_EXTRUDE4_DEPTH)

    # Sketch9 → Cut-Extrude8 (cut, up to next)
    with BuildSketch(Plane(origin=(0, 2.5, 0), x_dir=(1, 0, 0), z_dir=(0, 1, 0)), mode=Mode.PRIVATE) as cut_extrude8_sk1:
        with Locations((-88.9, 6.35)):
            Circle(SKETCH9_R)
    cut_extrude8_tool1 = extrude(cut_extrude8_sk1.sketch, amount=-CUT_EXTRUDE8_REACH, mode=Mode.PRIVATE) & part.part
    add(cut_extrude8_tool1.solids().sort_by_distance((-88.9, 2.5, -6.35))[0], mode=Mode.SUBTRACT)
    # Sketch9 → Cut-Extrude8 (cut, up to next)
    with BuildSketch(Plane(origin=(0, 2.5, 0), x_dir=(1, 0, 0), z_dir=(0, 1, 0)), mode=Mode.PRIVATE) as cut_extrude8_sk2:
        with Locations((-88.9, -6.35)):
            Circle(SKETCH9_R)
    cut_extrude8_tool2 = extrude(cut_extrude8_sk2.sketch, amount=-CUT_EXTRUDE8_REACH, mode=Mode.PRIVATE) & part.part
    add(cut_extrude8_tool2.solids().sort_by_distance((-88.9, 2.5, 6.35))[0], mode=Mode.SUBTRACT)
    # Sketch9 → Cut-Extrude8 (cut, up to next)
    with BuildSketch(Plane(origin=(0, 2.5, 0), x_dir=(1, 0, 0), z_dir=(0, 1, 0)), mode=Mode.PRIVATE) as cut_extrude8_sk3:
        with Locations((50.8, 0)):
            Circle(SKETCH9_R)
    cut_extrude8_tool3 = extrude(cut_extrude8_sk3.sketch, amount=-CUT_EXTRUDE8_REACH, mode=Mode.PRIVATE) & part.part
    add(cut_extrude8_tool3.solids().sort_by_distance((50.8, 2.5, 0))[0], mode=Mode.SUBTRACT)


solid = part.part
